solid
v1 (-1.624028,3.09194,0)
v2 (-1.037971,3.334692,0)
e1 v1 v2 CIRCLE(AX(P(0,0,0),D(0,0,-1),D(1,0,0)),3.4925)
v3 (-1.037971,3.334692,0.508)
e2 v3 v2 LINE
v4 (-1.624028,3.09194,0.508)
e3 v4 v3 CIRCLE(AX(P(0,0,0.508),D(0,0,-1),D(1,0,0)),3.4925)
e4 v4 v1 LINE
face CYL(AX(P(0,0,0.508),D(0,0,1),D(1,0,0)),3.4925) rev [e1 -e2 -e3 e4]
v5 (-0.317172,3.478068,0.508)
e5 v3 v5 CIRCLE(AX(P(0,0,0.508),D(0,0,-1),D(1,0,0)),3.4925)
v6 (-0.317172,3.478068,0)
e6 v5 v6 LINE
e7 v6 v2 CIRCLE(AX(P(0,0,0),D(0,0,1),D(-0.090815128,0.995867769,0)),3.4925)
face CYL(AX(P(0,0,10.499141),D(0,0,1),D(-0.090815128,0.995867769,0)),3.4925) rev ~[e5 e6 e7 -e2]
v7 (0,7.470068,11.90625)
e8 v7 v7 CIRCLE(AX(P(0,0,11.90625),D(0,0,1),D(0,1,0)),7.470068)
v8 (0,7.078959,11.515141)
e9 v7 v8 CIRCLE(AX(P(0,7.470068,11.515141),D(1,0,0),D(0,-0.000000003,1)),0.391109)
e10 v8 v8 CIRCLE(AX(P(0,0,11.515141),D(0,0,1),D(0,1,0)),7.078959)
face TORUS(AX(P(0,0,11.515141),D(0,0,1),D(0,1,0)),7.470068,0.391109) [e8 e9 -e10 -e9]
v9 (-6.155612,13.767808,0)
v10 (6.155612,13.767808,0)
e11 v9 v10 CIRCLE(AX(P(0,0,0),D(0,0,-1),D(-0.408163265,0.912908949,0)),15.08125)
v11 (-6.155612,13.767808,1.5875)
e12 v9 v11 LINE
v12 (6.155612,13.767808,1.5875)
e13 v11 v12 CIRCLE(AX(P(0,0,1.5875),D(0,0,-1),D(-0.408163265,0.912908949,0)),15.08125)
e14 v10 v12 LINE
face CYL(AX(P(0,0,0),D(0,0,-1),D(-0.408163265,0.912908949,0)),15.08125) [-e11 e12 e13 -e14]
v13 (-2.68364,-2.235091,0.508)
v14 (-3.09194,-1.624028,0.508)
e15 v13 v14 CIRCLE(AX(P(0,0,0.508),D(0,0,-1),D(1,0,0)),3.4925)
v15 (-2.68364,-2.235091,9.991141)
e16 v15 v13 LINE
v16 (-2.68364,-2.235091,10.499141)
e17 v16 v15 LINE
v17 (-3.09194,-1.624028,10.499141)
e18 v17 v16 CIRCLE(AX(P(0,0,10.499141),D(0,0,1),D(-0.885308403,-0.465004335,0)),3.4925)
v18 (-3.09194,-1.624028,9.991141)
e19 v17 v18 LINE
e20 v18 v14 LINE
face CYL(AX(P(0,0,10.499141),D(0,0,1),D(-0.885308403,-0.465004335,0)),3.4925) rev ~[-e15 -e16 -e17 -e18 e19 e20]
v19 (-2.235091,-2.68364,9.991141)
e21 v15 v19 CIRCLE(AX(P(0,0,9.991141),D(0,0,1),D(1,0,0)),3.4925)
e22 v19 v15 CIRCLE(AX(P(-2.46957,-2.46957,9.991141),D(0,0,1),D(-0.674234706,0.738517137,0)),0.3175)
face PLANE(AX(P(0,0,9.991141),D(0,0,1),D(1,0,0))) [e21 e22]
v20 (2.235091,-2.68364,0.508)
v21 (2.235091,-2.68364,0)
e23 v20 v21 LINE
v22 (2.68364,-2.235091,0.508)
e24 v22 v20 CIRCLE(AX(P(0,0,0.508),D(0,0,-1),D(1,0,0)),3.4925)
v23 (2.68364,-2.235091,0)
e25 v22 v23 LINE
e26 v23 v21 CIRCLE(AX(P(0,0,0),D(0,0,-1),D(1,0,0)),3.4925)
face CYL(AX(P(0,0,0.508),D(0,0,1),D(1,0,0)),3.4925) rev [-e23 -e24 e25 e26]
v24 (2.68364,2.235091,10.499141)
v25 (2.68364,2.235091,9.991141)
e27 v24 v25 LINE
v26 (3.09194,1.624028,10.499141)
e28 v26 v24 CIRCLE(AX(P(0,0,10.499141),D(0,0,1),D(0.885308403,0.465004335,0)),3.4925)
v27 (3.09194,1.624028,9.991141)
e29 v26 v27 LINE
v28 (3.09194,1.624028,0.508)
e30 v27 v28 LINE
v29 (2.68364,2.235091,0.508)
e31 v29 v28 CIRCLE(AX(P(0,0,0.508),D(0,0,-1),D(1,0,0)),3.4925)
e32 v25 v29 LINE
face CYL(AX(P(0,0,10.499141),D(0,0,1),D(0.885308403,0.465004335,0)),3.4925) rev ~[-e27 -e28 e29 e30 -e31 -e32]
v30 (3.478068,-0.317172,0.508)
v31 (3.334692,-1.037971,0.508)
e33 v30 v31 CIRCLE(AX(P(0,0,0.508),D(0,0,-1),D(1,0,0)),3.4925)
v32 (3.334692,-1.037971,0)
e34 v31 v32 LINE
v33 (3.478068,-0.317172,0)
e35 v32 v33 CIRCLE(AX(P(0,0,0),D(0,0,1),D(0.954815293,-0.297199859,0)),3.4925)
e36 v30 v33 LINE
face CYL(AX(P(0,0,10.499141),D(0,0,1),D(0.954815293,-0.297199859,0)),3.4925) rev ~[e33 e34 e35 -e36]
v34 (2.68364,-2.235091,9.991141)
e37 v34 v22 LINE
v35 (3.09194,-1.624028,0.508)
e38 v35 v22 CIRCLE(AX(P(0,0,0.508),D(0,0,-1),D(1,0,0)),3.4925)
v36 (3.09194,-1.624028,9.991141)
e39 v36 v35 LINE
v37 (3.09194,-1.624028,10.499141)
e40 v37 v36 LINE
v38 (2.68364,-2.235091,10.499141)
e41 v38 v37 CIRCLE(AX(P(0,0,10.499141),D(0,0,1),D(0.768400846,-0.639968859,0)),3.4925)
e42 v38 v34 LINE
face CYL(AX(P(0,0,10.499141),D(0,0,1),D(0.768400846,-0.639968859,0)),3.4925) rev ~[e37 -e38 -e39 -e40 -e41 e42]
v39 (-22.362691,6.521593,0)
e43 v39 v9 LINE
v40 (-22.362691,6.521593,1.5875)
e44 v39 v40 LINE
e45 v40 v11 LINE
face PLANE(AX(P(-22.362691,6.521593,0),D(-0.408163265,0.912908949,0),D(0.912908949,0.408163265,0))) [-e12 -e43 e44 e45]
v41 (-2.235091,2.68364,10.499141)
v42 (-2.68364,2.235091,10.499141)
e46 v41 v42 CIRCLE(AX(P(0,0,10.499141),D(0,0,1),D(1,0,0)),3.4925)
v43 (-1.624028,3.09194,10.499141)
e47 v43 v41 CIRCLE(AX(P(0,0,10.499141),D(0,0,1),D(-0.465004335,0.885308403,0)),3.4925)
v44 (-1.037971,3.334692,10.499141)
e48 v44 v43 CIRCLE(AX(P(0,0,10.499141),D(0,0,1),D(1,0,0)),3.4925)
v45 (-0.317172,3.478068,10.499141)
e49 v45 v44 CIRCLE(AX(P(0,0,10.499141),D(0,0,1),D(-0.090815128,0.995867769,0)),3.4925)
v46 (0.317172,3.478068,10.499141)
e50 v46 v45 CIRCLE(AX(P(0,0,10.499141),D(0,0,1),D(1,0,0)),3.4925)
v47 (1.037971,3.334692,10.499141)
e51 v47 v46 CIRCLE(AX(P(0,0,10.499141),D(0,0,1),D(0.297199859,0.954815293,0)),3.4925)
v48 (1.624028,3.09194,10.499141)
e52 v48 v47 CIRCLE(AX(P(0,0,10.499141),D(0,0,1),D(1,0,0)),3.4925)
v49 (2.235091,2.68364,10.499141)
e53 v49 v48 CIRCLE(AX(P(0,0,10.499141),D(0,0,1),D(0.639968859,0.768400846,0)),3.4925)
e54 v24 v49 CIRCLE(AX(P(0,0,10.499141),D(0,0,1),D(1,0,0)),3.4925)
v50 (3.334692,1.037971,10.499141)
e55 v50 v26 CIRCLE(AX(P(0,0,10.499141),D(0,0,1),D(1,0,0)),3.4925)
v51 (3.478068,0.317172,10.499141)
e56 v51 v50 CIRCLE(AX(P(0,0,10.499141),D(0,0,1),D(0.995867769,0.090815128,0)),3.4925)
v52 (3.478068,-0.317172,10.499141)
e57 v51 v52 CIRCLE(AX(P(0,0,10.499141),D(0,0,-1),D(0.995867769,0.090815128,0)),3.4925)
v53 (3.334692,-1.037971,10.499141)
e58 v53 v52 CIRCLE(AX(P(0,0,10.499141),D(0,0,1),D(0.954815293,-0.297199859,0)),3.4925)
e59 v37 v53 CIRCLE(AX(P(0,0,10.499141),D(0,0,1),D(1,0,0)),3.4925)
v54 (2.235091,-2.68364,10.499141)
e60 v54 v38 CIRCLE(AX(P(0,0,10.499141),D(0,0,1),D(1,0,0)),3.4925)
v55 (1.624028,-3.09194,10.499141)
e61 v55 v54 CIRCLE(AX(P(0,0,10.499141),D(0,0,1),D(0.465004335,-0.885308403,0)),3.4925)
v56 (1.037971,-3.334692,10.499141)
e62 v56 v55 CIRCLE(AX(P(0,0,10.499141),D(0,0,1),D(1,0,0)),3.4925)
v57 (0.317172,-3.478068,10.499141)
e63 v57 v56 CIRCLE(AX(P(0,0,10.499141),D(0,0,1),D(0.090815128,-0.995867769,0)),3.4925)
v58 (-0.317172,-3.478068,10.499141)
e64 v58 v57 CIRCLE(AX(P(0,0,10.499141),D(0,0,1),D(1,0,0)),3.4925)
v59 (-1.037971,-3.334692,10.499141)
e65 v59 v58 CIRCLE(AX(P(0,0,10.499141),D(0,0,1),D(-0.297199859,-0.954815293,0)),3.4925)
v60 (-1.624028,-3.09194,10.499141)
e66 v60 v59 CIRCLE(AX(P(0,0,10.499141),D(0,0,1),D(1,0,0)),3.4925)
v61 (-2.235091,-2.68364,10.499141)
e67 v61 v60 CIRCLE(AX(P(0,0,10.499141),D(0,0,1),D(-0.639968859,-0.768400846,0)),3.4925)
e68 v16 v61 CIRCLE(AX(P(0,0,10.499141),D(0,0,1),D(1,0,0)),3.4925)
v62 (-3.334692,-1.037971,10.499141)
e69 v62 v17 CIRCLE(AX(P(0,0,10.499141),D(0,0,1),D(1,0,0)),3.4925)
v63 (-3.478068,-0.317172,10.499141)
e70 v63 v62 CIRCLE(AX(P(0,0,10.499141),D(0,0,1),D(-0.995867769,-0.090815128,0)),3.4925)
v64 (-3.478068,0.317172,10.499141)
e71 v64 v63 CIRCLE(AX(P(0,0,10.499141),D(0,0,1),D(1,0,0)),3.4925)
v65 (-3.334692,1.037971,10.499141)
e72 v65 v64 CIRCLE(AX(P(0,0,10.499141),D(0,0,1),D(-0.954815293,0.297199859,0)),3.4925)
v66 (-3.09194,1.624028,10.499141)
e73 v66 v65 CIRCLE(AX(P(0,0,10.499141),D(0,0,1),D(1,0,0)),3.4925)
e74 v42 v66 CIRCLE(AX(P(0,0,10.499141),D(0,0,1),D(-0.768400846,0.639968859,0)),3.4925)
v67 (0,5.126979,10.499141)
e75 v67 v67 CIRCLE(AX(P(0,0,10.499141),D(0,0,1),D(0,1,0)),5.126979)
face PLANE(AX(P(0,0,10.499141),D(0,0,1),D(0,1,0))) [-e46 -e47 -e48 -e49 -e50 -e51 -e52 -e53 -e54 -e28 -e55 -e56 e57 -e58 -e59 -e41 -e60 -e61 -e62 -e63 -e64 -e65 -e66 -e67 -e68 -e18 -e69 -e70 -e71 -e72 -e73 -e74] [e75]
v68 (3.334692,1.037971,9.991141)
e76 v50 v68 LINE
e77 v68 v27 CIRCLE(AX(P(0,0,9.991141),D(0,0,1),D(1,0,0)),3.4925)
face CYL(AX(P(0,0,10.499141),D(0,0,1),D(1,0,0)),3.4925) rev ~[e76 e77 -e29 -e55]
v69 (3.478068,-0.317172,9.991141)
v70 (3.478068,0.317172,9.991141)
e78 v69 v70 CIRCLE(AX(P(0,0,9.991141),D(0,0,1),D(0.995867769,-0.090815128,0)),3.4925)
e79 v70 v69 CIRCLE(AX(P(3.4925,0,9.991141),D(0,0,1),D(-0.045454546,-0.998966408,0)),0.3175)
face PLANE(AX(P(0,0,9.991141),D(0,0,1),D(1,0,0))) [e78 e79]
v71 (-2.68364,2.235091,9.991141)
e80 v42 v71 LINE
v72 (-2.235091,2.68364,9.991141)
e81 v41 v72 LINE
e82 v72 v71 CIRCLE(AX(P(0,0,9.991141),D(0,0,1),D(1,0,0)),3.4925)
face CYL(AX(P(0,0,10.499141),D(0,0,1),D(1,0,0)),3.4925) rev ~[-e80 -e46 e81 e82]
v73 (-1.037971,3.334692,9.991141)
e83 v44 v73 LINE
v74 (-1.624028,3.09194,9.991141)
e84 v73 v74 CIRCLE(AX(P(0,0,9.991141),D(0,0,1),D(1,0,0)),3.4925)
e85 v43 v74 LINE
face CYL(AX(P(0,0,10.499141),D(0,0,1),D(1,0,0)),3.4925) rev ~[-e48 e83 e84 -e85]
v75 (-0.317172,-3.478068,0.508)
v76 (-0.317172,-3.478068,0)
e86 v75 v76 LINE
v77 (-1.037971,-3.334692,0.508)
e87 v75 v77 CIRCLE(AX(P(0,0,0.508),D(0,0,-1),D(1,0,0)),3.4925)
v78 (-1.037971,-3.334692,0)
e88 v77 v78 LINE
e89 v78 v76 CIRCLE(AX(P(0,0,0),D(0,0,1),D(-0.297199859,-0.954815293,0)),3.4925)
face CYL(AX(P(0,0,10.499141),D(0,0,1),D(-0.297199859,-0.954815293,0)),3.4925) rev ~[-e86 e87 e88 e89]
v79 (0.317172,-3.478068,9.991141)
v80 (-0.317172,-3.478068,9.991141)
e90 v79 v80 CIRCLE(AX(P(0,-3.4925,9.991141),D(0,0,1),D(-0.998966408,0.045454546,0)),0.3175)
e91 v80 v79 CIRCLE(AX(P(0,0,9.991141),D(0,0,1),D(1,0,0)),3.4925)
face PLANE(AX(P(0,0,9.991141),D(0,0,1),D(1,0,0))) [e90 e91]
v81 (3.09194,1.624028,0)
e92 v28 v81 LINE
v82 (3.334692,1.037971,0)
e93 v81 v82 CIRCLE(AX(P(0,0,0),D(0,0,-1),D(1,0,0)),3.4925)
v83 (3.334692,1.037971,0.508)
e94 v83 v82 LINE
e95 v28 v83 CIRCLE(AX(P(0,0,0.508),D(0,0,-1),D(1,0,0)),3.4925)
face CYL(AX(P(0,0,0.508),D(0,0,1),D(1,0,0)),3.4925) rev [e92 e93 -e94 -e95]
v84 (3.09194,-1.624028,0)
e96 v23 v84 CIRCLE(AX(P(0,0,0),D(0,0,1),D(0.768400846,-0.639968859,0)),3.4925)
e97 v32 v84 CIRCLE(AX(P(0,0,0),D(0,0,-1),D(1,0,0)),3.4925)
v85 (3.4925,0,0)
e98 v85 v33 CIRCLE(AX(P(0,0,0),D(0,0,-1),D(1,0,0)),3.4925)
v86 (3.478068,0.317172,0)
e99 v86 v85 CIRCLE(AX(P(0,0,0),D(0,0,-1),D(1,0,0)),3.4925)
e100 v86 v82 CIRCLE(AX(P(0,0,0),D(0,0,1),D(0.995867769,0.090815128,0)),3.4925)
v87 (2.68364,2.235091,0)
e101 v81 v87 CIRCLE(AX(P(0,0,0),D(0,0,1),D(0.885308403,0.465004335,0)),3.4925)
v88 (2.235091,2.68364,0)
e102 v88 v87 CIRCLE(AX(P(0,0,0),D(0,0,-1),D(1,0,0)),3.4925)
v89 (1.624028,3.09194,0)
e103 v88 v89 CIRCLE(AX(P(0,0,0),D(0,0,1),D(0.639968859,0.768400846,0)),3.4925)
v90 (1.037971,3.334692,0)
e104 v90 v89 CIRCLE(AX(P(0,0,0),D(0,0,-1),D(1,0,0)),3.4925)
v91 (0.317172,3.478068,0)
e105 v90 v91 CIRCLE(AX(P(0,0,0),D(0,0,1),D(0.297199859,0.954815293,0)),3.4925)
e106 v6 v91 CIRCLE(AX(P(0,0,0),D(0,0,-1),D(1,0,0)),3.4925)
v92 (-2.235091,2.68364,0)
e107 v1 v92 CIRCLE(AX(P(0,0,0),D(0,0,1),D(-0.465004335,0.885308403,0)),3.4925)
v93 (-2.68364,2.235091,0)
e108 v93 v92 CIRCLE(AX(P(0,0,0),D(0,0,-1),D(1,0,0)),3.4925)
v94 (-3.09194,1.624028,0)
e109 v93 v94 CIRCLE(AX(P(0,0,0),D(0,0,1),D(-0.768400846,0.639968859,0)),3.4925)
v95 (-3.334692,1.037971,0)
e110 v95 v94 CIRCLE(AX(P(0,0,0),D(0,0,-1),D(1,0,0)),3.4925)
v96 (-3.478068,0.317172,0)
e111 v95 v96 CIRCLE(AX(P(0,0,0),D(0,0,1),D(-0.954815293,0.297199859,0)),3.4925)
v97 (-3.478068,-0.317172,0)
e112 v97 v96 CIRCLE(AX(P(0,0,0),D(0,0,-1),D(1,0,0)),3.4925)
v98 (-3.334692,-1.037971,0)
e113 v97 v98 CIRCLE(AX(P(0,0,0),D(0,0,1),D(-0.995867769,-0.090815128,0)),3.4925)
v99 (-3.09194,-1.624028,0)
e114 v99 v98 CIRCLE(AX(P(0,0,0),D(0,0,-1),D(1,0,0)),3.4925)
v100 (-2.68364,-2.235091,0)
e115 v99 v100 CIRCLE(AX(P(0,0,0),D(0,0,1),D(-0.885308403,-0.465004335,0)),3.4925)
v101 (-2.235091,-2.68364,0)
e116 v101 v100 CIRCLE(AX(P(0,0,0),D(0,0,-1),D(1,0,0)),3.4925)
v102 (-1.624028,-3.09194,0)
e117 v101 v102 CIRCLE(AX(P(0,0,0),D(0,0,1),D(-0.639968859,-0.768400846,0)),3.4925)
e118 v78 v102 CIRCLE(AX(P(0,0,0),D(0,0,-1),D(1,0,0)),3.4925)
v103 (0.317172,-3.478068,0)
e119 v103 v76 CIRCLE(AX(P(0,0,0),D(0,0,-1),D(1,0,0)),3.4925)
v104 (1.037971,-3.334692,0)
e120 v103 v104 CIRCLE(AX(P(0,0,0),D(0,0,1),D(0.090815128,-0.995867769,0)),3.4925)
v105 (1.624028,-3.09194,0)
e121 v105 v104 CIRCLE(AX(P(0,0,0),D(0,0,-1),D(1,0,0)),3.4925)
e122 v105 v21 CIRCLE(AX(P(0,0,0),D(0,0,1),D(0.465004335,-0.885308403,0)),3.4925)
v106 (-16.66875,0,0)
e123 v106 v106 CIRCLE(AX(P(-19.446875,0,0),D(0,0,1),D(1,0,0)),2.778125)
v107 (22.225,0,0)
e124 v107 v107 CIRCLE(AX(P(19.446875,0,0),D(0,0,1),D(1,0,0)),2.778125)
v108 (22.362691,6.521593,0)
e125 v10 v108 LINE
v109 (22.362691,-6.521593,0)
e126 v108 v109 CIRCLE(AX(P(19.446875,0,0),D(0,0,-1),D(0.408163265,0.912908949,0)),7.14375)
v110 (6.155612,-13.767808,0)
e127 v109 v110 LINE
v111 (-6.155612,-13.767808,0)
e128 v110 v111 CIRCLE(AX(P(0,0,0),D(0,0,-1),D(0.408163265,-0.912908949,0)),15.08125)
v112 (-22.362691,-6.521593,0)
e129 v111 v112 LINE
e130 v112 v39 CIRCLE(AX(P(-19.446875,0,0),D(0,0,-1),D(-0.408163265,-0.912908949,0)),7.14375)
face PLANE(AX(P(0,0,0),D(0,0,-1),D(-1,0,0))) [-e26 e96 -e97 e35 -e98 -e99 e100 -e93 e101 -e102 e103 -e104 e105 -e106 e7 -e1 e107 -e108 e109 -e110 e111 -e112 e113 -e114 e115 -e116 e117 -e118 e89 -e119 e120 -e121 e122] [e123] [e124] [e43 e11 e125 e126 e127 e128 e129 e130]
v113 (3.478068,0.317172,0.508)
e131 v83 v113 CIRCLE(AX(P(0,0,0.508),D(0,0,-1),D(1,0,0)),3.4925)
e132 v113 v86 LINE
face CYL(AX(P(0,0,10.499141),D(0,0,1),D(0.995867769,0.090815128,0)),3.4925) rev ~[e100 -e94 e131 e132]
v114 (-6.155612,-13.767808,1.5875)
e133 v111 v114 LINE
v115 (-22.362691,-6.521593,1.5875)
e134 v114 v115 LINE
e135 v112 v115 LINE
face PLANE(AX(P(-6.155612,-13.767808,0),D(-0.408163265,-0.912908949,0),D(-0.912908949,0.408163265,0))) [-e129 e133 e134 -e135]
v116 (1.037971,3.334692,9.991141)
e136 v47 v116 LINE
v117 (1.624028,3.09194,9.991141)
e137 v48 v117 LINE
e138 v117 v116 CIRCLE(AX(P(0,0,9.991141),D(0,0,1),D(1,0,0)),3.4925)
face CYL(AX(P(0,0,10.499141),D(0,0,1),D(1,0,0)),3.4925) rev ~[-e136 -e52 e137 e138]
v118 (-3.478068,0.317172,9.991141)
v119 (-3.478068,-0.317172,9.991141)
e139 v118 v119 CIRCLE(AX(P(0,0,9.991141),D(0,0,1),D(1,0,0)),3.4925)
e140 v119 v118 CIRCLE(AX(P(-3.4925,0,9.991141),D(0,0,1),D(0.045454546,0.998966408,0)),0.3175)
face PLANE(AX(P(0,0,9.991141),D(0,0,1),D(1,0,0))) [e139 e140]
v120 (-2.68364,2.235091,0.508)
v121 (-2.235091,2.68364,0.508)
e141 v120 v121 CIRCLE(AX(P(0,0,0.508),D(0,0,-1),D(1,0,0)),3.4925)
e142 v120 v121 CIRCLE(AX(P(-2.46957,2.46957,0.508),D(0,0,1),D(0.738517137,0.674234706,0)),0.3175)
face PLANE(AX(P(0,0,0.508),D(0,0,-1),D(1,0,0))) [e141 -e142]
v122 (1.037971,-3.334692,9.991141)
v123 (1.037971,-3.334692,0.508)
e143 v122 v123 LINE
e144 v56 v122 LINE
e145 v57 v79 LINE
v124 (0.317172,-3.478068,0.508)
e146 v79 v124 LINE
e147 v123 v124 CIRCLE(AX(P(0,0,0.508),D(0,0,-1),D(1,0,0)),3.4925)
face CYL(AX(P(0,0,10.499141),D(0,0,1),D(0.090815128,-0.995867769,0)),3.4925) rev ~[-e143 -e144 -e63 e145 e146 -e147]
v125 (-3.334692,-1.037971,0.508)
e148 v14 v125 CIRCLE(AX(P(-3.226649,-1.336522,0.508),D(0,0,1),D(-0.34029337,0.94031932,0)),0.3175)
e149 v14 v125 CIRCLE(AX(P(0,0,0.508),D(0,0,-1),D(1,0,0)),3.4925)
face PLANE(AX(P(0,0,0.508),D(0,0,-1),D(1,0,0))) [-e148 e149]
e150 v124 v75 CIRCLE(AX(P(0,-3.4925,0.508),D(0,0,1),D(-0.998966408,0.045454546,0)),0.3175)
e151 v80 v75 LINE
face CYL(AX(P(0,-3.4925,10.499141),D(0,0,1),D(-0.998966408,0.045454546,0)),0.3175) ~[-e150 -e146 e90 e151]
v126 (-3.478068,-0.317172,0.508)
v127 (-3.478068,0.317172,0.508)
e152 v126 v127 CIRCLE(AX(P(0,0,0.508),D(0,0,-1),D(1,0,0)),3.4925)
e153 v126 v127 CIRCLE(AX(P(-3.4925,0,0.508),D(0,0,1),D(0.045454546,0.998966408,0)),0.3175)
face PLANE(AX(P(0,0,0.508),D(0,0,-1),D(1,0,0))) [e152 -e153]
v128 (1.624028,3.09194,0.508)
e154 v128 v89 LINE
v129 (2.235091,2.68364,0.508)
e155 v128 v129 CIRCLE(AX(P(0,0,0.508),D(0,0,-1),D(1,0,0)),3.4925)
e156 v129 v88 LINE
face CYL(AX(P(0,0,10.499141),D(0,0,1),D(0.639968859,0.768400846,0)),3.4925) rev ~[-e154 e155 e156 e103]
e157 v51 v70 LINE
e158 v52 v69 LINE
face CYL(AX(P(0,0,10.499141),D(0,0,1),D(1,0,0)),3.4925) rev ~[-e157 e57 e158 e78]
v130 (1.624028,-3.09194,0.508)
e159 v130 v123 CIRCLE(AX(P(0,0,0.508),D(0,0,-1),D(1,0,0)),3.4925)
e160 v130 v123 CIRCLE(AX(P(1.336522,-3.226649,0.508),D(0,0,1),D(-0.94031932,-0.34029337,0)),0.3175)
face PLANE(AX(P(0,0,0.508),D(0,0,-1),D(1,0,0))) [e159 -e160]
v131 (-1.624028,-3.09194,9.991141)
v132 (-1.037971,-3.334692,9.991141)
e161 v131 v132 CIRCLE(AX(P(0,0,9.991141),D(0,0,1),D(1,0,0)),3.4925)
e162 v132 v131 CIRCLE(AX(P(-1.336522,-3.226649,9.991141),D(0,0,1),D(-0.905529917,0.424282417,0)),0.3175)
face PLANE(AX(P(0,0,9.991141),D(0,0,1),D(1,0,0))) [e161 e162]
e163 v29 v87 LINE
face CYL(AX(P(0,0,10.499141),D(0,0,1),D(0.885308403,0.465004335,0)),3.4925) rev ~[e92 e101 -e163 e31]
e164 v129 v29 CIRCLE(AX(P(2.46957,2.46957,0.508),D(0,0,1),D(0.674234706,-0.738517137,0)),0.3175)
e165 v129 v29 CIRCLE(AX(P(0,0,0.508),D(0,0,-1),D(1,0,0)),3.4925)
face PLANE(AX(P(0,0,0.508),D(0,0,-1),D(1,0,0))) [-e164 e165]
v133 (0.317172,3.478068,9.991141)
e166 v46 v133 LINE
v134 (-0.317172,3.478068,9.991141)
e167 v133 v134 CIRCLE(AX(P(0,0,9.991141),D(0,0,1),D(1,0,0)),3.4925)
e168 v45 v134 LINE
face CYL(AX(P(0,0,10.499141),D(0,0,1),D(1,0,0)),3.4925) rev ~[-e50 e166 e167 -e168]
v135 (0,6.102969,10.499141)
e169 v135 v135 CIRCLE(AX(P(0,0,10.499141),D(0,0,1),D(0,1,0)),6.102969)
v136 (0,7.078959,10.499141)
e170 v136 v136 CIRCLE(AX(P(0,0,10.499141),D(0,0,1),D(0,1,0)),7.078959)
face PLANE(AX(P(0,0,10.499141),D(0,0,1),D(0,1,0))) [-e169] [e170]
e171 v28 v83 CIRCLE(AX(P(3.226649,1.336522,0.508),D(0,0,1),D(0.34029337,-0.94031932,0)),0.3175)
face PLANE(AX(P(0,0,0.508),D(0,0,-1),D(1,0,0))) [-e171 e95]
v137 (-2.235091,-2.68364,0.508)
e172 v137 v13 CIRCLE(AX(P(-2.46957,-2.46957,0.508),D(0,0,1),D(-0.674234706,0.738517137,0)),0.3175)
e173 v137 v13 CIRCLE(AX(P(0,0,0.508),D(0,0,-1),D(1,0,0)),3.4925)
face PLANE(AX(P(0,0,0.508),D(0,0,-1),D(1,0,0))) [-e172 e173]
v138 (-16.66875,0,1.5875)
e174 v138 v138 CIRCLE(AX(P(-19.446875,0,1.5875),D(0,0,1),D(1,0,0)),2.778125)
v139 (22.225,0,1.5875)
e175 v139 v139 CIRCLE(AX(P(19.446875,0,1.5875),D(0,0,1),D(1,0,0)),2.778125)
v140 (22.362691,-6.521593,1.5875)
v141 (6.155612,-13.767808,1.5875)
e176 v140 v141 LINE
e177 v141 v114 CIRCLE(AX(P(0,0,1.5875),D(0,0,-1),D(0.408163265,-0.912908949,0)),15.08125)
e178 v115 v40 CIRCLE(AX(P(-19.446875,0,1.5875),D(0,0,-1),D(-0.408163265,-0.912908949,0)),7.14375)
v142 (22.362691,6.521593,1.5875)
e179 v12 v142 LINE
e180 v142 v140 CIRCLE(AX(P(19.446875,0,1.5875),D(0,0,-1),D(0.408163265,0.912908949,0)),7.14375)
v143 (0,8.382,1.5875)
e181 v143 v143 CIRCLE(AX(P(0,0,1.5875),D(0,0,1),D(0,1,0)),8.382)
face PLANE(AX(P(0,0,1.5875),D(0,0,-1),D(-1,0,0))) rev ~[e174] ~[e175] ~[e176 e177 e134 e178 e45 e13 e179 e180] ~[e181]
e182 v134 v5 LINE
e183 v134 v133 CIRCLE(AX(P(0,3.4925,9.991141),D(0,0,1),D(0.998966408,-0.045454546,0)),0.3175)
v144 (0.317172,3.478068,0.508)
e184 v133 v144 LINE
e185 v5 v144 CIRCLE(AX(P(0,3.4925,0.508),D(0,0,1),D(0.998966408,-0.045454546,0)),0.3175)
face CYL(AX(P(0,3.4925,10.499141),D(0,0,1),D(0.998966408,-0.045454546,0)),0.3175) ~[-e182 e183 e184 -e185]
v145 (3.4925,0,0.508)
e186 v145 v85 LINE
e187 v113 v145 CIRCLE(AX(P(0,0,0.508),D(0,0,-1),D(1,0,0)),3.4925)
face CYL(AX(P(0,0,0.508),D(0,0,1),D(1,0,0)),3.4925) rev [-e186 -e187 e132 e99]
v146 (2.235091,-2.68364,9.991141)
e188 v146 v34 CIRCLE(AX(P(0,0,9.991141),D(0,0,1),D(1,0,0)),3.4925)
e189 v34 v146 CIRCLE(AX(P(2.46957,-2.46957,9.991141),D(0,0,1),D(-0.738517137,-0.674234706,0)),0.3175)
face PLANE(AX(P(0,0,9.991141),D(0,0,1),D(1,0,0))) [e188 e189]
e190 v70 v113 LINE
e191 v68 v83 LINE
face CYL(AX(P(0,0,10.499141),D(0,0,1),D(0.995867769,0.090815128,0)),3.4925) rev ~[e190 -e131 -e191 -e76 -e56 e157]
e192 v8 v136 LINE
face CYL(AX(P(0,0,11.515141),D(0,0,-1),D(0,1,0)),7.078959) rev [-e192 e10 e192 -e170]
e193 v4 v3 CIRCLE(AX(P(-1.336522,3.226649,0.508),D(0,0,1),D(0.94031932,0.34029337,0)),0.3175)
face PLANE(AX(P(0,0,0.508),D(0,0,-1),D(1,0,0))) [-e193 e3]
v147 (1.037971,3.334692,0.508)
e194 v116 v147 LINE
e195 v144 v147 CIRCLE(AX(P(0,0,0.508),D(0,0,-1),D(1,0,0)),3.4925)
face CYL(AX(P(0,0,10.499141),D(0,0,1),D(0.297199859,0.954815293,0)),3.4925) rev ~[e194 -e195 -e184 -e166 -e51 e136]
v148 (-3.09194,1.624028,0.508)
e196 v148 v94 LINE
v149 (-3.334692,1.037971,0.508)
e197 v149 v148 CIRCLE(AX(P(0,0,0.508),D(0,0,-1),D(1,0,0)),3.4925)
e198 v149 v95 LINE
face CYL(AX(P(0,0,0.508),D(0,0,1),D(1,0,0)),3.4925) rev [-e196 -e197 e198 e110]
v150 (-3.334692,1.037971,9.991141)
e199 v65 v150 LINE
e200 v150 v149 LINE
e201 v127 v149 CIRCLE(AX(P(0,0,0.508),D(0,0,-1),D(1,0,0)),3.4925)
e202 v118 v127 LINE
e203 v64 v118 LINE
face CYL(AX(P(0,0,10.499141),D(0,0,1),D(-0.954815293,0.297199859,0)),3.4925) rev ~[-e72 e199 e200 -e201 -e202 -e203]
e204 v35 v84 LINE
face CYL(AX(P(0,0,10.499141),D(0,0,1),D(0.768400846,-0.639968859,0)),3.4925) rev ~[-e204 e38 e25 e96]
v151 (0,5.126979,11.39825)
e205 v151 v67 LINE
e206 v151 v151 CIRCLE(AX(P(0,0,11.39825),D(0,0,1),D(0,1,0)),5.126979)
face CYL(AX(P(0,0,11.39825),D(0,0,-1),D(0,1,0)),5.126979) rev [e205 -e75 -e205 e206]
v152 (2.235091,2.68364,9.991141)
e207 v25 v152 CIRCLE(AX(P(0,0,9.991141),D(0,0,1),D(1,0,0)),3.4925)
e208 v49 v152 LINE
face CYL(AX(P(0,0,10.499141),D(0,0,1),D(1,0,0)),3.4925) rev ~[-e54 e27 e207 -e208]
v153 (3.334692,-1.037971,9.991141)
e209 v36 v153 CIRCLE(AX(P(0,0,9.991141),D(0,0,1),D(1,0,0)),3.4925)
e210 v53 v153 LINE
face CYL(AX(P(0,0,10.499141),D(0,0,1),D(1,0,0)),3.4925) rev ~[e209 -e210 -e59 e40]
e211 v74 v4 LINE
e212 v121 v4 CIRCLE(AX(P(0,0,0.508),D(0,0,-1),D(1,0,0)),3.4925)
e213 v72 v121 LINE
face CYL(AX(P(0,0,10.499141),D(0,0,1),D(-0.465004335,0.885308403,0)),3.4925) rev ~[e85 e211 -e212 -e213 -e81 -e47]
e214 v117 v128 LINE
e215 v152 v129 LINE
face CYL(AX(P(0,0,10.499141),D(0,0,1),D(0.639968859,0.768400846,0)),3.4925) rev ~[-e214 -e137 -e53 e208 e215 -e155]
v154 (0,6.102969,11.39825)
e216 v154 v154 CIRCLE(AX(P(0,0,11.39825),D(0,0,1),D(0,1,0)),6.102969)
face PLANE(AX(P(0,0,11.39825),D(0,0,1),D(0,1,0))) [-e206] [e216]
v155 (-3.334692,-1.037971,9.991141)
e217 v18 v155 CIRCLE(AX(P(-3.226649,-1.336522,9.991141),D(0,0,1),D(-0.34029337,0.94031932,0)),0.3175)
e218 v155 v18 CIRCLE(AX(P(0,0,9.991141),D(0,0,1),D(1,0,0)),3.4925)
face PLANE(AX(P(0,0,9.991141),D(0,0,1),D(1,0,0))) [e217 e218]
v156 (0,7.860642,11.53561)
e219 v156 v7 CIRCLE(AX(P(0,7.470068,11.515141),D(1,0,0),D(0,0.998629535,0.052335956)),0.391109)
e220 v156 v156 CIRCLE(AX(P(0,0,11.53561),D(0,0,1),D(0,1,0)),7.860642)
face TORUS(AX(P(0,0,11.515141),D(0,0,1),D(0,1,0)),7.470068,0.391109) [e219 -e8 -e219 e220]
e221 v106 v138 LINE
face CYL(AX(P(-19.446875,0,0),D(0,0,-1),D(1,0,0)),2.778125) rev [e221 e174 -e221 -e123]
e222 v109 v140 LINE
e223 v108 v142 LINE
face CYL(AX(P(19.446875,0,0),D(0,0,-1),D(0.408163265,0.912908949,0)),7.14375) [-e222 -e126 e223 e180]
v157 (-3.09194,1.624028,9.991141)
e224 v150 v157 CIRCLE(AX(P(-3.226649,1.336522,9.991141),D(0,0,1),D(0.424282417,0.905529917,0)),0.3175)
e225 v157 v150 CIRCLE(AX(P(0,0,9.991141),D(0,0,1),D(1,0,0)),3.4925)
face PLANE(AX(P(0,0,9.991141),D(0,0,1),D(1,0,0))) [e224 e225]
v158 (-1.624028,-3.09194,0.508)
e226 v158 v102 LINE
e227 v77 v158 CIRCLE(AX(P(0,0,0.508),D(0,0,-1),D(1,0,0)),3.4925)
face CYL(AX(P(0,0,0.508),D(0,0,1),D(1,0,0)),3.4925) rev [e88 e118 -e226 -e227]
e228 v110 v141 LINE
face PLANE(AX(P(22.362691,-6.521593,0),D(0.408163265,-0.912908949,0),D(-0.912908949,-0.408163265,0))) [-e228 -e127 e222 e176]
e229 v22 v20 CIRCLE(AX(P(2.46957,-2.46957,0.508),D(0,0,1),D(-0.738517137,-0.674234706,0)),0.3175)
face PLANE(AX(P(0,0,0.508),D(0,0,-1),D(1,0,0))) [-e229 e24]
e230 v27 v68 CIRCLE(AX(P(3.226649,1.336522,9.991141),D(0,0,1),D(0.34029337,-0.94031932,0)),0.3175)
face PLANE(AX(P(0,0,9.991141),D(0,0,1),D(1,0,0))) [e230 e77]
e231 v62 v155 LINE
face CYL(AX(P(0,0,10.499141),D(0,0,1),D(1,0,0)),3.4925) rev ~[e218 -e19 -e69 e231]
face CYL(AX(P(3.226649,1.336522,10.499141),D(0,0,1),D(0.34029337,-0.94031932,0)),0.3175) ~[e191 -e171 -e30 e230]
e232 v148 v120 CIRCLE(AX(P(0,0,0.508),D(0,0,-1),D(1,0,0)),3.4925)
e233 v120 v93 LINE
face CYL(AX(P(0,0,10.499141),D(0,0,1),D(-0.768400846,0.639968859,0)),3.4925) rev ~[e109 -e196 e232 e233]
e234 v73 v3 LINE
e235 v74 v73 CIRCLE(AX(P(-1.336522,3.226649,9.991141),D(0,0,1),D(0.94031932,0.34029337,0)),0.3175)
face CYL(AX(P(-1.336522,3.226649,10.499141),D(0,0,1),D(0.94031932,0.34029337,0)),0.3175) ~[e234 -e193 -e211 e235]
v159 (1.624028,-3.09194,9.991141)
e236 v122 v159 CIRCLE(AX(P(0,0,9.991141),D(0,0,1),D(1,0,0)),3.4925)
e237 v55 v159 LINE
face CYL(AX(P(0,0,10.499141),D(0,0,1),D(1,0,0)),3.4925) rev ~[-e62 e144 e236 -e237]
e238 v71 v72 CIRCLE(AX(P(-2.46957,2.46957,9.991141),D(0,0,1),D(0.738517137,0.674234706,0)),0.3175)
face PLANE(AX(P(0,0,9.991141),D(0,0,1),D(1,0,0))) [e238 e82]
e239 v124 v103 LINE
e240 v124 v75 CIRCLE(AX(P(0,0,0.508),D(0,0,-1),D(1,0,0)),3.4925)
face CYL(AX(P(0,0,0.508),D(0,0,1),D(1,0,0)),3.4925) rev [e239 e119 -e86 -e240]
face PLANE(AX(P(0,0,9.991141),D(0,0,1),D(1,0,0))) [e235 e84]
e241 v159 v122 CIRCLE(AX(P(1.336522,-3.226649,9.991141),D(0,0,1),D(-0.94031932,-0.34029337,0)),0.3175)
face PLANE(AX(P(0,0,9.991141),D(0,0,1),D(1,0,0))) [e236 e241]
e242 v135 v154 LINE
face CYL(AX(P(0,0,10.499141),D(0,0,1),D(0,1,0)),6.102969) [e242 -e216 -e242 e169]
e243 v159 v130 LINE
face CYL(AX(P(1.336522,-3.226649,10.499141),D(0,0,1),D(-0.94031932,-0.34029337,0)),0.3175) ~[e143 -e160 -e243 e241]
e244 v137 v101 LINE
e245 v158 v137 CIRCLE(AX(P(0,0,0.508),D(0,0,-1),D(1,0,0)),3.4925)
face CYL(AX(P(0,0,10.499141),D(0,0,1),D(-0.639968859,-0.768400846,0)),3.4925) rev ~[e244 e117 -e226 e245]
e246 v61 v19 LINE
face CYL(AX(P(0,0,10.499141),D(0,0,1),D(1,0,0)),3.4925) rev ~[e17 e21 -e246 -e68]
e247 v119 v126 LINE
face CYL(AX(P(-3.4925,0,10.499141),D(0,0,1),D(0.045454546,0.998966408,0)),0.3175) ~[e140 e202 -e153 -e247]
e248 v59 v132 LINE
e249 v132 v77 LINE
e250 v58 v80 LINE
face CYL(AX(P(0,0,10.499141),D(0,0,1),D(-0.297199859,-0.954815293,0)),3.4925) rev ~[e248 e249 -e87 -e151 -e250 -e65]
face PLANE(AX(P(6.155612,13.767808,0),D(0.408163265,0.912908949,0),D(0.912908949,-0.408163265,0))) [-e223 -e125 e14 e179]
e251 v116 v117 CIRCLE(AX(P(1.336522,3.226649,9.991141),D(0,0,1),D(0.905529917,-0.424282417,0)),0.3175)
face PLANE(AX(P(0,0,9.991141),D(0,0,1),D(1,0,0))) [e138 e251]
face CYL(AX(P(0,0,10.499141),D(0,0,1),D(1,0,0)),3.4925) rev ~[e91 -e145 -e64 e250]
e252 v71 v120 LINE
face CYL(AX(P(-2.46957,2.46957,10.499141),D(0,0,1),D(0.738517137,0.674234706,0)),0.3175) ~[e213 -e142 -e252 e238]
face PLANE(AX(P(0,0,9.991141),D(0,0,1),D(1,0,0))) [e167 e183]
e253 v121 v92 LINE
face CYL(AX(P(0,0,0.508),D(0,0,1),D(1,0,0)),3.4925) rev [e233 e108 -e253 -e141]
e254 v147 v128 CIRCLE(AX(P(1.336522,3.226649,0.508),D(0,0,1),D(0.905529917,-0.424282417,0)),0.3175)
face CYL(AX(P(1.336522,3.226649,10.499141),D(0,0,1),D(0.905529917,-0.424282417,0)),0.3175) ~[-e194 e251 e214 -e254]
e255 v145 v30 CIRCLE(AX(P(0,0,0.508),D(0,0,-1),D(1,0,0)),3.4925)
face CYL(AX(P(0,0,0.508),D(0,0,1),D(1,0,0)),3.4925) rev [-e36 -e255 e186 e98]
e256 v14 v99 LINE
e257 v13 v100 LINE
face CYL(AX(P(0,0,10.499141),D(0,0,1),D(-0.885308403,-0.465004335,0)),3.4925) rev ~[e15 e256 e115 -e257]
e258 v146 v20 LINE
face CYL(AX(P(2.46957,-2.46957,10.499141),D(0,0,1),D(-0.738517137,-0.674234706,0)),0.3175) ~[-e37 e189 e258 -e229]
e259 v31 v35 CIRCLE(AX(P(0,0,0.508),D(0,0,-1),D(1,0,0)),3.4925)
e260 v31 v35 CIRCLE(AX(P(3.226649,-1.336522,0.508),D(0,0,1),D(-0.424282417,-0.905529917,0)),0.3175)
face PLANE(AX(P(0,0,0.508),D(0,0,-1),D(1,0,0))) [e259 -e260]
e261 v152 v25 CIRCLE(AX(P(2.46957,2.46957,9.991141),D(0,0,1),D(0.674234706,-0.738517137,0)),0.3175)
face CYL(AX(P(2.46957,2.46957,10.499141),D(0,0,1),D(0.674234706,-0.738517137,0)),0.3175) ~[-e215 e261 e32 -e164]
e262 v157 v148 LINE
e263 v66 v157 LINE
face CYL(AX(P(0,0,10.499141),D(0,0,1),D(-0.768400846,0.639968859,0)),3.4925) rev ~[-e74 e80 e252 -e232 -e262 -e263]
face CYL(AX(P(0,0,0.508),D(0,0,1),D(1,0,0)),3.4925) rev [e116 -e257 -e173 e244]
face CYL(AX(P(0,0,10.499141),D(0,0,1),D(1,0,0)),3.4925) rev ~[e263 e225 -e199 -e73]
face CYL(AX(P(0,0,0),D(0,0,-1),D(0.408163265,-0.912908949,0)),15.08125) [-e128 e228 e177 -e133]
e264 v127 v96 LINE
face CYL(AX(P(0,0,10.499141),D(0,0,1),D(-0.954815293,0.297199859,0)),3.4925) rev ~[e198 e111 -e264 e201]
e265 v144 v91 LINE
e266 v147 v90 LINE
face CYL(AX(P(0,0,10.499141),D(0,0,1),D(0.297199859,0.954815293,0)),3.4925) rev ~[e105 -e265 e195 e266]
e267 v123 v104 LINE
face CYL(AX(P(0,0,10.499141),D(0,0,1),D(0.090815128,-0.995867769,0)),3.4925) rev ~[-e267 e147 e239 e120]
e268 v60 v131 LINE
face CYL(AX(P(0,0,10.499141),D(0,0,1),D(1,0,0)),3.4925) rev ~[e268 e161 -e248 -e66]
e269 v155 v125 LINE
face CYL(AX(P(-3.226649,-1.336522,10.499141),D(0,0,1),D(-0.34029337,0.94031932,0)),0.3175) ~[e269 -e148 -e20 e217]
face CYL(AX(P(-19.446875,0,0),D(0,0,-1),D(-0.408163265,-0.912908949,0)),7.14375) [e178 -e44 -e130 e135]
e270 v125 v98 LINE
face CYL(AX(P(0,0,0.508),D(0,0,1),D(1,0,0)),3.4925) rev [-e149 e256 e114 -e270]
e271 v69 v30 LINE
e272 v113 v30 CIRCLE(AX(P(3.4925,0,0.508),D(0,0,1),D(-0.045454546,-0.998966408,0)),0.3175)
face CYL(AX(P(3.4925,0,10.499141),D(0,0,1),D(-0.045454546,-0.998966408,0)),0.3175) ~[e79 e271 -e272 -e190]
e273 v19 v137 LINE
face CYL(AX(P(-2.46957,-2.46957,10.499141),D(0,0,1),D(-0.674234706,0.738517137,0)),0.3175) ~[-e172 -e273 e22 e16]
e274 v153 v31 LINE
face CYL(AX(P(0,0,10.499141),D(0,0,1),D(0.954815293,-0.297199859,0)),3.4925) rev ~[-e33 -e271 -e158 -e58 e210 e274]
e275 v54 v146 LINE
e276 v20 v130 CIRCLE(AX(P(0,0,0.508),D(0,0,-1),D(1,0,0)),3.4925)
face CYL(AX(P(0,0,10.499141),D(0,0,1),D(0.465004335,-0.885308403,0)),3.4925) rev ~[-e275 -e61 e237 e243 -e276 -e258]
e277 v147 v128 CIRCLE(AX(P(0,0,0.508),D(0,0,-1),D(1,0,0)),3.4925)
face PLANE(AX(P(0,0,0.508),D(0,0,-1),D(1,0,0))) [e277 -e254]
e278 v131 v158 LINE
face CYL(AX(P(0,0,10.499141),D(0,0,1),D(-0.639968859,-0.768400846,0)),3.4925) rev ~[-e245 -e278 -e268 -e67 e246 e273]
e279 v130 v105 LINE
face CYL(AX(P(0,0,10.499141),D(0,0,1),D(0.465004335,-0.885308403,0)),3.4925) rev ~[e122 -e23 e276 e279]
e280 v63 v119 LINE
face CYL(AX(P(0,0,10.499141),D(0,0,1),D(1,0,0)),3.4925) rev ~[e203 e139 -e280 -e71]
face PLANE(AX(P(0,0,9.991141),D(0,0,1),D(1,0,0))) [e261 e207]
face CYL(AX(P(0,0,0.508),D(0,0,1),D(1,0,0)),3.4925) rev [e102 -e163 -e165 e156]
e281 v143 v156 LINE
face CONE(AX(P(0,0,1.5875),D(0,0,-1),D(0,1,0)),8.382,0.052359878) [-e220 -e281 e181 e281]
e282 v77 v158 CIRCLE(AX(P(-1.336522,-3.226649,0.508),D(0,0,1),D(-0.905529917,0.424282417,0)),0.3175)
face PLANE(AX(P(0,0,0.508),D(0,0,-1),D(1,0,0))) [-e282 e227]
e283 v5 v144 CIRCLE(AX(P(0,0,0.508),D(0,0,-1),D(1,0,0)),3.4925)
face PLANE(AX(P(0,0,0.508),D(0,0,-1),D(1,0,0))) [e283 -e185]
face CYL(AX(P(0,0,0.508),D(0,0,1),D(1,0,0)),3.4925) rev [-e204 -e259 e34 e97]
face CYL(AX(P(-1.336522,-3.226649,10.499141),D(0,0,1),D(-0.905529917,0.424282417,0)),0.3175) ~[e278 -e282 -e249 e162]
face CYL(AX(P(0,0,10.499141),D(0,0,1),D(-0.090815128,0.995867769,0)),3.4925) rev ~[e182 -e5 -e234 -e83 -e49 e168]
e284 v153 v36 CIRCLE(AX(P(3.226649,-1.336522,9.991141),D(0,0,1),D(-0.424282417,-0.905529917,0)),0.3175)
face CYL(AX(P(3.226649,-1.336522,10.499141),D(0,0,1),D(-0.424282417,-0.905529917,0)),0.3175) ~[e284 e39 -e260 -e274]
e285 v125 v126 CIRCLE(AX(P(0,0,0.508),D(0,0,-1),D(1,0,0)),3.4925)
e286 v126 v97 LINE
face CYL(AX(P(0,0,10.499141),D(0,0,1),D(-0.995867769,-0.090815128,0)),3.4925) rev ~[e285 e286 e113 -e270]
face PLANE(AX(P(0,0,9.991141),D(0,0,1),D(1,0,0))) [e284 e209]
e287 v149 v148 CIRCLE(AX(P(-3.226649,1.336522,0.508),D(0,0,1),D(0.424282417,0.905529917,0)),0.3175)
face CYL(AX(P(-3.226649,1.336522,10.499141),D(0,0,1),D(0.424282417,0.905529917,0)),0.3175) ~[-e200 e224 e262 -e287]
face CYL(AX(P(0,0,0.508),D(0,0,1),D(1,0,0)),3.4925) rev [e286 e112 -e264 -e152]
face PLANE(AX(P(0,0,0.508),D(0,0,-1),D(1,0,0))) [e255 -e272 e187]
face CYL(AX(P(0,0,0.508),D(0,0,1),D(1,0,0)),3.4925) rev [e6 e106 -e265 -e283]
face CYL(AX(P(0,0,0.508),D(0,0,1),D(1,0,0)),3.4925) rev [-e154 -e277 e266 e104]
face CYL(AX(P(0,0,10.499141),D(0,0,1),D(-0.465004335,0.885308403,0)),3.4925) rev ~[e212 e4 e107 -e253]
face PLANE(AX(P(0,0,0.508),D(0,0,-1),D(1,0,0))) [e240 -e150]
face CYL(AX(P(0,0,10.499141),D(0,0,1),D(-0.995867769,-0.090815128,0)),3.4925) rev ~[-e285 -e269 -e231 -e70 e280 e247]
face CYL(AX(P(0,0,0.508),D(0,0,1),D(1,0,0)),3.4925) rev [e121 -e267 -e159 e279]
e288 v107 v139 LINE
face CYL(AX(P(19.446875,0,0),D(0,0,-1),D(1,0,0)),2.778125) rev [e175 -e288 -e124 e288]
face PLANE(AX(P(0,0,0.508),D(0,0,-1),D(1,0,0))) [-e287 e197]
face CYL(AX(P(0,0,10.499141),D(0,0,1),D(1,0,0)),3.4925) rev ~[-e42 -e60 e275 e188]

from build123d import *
from build123d.topology import SkipClean

# Parameters (mm, degrees)
SKETCH1_R          = 2.778125
SKETCH1_R_2        = 8.382
EXTRUDE1_DEPTH     = 1.5875
CUT_EXTRUDE2_DEPTH = 33.32239767
SKETCH4_R          = 3.4925
CUT_EXTRUDE3_DEPTH = 0.508
CUT_EXTRUDE4_START = -0.508
SKETCH5_R          = 3.4925
CUT_EXTRUDE4_DEPTH = 0.508


with BuildPart() as part:
    # Sketch1 → Extrude1 (new body)
    with BuildSketch(Plane.XY):
        with BuildLine():
            Line((-22.362691327, 6.521593303), (-6.155612245, 13.767808085))
            ThreePointArc((-6.155612245, 13.767808085), (0, 15.08125), (6.155612245, 13.767808085))
            Line((6.155612245, 13.767808085), (22.362691327, 6.521593303))
            ThreePointArc((22.362691327, 6.521593303), (26.590625, 0), (22.362691327, -6.521593303))
            Line((22.362691327, -6.521593303), (6.155612245, -13.767808085))
            ThreePointArc((6.155612245, -13.767808085), (0, -15.08125), (-6.155612245, -13.767808085))
            Line((-6.155612245, -13.767808085), (-22.362691327, -6.521593303))
            ThreePointArc((-22.362691327, -6.521593303), (-26.590625, 0), (-22.362691327, 6.521593303))
        make_face()
        with Locations((-19.446875, 0)):
            Circle(SKETCH1_R, mode=Mode.SUBTRACT)
        with Locations((19.446875, 0)):
            Circle(SKETCH1_R, mode=Mode.SUBTRACT)
        Circle(SKETCH1_R_2, mode=Mode.SUBTRACT)
    extrude(amount=EXTRUDE1_DEPTH)

    # Sketch2 → Revolve1 (revolve)
    with BuildSketch(Plane(origin=(0, 0, 0), x_dir=(0, 0, -1), z_dir=(1, 0, 0))):
        with BuildLine():
            Line((0, 8.382), (-1.5875, 8.382))
            Line((-1.5875, 8.382), (-11.53560961, 7.860641667))
            ThreePointArc((-11.53560961, 7.860641667), (-11.798841313, 7.73929019), (-11.90625, 7.47006819))
            ThreePointArc((-11.90625, 7.47006819), (-11.791696686, 7.193512026), (-11.515140521, 7.078958711))
            Line((-11.515140521, 7.078958711), (-10.499140521, 7.078958711))
            Line((-10.499140521, 7.078958711), (-10.499140521, 6.102969034))
            Line((-10.499140521, 6.102969034), (-11.39825, 6.102969034))
            Line((-11.39825, 6.102969034), (-11.39825, 5.126979356))
            Line((-11.39825, 5.126979356), (-10.499140521, 5.126979356))
            Line((-10.499140521, 5.126979356), (-10.499140521, 4.150989678))
            Line((-10.499140521, 4.150989678), (-10.499140521, 3.175))
            Line((-10.499140521, 3.175), (0, 3.175))
            Line((0, 3.175), (0, 8.382))
        make_face()
    revolve(axis=Axis((0, 0, 0), (0, 0, 1)))

    # Sketch3 → Cut-Extrude2 (cut, through all)
    with BuildSketch(Plane.XY.offset(10.499140521)):
        with BuildLine():
            ThreePointArc((-1.624027636, 3.0919396), (-1.940329039, 2.903907621), (-2.235091242, 2.683639952))
            ThreePointArc((-2.235091242, 2.683639952), (-2.24506403, 2.24506403), (-2.683639952, 2.235091242))
            ThreePointArc((-2.683639952, 2.235091242), (-2.903907621, 1.940329039), (-3.0919396, 1.624027636))
            ThreePointArc((-3.0919396, 1.624027636), (-2.933317516, 1.215019898), (-3.334692412, 1.037970504))
            ThreePointArc((-3.334692412, 1.037970504), (-3.425392592, 0.68135295), (-3.478068182, 0.317171835))
            ThreePointArc((-3.478068182, 0.317171835), (-3.175, 0), (-3.478068182, -0.317171835))
            ThreePointArc((-3.478068182, -0.317171835), (-3.425392592, -0.68135295), (-3.334692412, -1.037970504))
            ThreePointArc((-3.334692412, -1.037970504), (-2.933317516, -1.215019898), (-3.0919396, -1.624027636))
            ThreePointArc((-3.0919396, -1.624027636), (-2.903907621, -1.940329039), (-2.683639952, -2.235091242))
            ThreePointArc((-2.683639952, -2.235091242), (-2.24506403, -2.24506403), (-2.235091242, -2.683639952))
            ThreePointArc((-2.235091242, -2.683639952), (-1.940329039, -2.903907621), (-1.624027636, -3.0919396))
            ThreePointArc((-1.624027636, -3.0919396), (-1.215019898, -2.933317516), (-1.037970504, -3.334692412))
            ThreePointArc((-1.037970504, -3.334692412), (-0.68135295, -3.425392592), (-0.317171835, -3.478068182))
            ThreePointArc((-0.317171835, -3.478068182), (0, -3.175), (0.317171835, -3.478068182))
            ThreePointArc((0.317171835, -3.478068182), (0.68135295, -3.425392592), (1.037970504, -3.334692412))
            ThreePointArc((1.037970504, -3.334692412), (1.215019898, -2.933317516), (1.624027636, -3.0919396))
            ThreePointArc((1.624027636, -3.0919396), (1.940329039, -2.903907621), (2.235091242, -2.683639952))
            ThreePointArc((2.235091242, -2.683639952), (2.24506403, -2.24506403), (2.683639952, -2.235091242))
            ThreePointArc((2.683639952, -2.235091242), (2.903907621, -1.940329039), (3.0919396, -1.624027636))
            ThreePointArc((3.0919396, -1.624027636), (2.933317516, -1.215019898), (3.334692412, -1.037970504))
            ThreePointArc((3.334692412, -1.037970504), (3.425392592, -0.68135295), (3.478068182, -0.317171835))
            ThreePointArc((3.478068182, -0.317171835), (3.175, 0), (3.478068182, 0.317171835))
            ThreePointArc((3.478068182, 0.317171835), (3.425392592, 0.68135295), (3.334692412, 1.037970504))
            ThreePointArc((3.334692412, 1.037970504), (2.933317516, 1.215019898), (3.0919396, 1.624027636))
            ThreePointArc((3.0919396, 1.624027636), (2.903907621, 1.940329039), (2.683639952, 2.235091242))
            ThreePointArc((2.683639952, 2.235091242), (2.24506403, 2.24506403), (2.235091242, 2.683639952))
            ThreePointArc((2.235091242, 2.683639952), (1.940329039, 2.903907621), (1.624027636, 3.0919396))
            ThreePointArc((1.624027636, 3.0919396), (1.215019898, 2.933317516), (1.037970504, 3.334692412))
            ThreePointArc((1.037970504, 3.334692412), (0.68135295, 3.425392592), (0.317171835, 3.478068182))
            ThreePointArc((0.317171835, 3.478068182), (0, 3.175), (-0.317171835, 3.478068182))
            ThreePointArc((-0.317171835, 3.478068182), (-0.68135295, 3.425392592), (-1.037970504, 3.334692412))
            ThreePointArc((-1.037970504, 3.334692412), (-1.215019898, 2.933317516), (-1.624027636, 3.0919396))
        make_face()
    extrude(amount=-CUT_EXTRUDE2_DEPTH, mode=Mode.SUBTRACT)

    # Sketch4 → Cut-Extrude3 (cut)
    with BuildSketch(Plane.XY.offset(10.499140521)):
        Circle(SKETCH4_R)
    extrude(amount=-CUT_EXTRUDE3_DEPTH, mode=Mode.SUBTRACT)

    # Sketch5 → Cut-Extrude4 (cut)
    with SkipClean():  # the faces are left unmerged after this step: merging them gives an invalid solid
        with BuildSketch(Plane(origin=(0, 0, 0), x_dir=(-1, 0, 0), z_dir=(0, 0, -1)).offset(CUT_EXTRUDE4_START)):
            with Locations(Location((0, 0, 0), (0, 0, 180))):
                Circle(SKETCH5_R)
        extrude(amount=CUT_EXTRUDE4_DEPTH, mode=Mode.SUBTRACT)


solid = part.part
